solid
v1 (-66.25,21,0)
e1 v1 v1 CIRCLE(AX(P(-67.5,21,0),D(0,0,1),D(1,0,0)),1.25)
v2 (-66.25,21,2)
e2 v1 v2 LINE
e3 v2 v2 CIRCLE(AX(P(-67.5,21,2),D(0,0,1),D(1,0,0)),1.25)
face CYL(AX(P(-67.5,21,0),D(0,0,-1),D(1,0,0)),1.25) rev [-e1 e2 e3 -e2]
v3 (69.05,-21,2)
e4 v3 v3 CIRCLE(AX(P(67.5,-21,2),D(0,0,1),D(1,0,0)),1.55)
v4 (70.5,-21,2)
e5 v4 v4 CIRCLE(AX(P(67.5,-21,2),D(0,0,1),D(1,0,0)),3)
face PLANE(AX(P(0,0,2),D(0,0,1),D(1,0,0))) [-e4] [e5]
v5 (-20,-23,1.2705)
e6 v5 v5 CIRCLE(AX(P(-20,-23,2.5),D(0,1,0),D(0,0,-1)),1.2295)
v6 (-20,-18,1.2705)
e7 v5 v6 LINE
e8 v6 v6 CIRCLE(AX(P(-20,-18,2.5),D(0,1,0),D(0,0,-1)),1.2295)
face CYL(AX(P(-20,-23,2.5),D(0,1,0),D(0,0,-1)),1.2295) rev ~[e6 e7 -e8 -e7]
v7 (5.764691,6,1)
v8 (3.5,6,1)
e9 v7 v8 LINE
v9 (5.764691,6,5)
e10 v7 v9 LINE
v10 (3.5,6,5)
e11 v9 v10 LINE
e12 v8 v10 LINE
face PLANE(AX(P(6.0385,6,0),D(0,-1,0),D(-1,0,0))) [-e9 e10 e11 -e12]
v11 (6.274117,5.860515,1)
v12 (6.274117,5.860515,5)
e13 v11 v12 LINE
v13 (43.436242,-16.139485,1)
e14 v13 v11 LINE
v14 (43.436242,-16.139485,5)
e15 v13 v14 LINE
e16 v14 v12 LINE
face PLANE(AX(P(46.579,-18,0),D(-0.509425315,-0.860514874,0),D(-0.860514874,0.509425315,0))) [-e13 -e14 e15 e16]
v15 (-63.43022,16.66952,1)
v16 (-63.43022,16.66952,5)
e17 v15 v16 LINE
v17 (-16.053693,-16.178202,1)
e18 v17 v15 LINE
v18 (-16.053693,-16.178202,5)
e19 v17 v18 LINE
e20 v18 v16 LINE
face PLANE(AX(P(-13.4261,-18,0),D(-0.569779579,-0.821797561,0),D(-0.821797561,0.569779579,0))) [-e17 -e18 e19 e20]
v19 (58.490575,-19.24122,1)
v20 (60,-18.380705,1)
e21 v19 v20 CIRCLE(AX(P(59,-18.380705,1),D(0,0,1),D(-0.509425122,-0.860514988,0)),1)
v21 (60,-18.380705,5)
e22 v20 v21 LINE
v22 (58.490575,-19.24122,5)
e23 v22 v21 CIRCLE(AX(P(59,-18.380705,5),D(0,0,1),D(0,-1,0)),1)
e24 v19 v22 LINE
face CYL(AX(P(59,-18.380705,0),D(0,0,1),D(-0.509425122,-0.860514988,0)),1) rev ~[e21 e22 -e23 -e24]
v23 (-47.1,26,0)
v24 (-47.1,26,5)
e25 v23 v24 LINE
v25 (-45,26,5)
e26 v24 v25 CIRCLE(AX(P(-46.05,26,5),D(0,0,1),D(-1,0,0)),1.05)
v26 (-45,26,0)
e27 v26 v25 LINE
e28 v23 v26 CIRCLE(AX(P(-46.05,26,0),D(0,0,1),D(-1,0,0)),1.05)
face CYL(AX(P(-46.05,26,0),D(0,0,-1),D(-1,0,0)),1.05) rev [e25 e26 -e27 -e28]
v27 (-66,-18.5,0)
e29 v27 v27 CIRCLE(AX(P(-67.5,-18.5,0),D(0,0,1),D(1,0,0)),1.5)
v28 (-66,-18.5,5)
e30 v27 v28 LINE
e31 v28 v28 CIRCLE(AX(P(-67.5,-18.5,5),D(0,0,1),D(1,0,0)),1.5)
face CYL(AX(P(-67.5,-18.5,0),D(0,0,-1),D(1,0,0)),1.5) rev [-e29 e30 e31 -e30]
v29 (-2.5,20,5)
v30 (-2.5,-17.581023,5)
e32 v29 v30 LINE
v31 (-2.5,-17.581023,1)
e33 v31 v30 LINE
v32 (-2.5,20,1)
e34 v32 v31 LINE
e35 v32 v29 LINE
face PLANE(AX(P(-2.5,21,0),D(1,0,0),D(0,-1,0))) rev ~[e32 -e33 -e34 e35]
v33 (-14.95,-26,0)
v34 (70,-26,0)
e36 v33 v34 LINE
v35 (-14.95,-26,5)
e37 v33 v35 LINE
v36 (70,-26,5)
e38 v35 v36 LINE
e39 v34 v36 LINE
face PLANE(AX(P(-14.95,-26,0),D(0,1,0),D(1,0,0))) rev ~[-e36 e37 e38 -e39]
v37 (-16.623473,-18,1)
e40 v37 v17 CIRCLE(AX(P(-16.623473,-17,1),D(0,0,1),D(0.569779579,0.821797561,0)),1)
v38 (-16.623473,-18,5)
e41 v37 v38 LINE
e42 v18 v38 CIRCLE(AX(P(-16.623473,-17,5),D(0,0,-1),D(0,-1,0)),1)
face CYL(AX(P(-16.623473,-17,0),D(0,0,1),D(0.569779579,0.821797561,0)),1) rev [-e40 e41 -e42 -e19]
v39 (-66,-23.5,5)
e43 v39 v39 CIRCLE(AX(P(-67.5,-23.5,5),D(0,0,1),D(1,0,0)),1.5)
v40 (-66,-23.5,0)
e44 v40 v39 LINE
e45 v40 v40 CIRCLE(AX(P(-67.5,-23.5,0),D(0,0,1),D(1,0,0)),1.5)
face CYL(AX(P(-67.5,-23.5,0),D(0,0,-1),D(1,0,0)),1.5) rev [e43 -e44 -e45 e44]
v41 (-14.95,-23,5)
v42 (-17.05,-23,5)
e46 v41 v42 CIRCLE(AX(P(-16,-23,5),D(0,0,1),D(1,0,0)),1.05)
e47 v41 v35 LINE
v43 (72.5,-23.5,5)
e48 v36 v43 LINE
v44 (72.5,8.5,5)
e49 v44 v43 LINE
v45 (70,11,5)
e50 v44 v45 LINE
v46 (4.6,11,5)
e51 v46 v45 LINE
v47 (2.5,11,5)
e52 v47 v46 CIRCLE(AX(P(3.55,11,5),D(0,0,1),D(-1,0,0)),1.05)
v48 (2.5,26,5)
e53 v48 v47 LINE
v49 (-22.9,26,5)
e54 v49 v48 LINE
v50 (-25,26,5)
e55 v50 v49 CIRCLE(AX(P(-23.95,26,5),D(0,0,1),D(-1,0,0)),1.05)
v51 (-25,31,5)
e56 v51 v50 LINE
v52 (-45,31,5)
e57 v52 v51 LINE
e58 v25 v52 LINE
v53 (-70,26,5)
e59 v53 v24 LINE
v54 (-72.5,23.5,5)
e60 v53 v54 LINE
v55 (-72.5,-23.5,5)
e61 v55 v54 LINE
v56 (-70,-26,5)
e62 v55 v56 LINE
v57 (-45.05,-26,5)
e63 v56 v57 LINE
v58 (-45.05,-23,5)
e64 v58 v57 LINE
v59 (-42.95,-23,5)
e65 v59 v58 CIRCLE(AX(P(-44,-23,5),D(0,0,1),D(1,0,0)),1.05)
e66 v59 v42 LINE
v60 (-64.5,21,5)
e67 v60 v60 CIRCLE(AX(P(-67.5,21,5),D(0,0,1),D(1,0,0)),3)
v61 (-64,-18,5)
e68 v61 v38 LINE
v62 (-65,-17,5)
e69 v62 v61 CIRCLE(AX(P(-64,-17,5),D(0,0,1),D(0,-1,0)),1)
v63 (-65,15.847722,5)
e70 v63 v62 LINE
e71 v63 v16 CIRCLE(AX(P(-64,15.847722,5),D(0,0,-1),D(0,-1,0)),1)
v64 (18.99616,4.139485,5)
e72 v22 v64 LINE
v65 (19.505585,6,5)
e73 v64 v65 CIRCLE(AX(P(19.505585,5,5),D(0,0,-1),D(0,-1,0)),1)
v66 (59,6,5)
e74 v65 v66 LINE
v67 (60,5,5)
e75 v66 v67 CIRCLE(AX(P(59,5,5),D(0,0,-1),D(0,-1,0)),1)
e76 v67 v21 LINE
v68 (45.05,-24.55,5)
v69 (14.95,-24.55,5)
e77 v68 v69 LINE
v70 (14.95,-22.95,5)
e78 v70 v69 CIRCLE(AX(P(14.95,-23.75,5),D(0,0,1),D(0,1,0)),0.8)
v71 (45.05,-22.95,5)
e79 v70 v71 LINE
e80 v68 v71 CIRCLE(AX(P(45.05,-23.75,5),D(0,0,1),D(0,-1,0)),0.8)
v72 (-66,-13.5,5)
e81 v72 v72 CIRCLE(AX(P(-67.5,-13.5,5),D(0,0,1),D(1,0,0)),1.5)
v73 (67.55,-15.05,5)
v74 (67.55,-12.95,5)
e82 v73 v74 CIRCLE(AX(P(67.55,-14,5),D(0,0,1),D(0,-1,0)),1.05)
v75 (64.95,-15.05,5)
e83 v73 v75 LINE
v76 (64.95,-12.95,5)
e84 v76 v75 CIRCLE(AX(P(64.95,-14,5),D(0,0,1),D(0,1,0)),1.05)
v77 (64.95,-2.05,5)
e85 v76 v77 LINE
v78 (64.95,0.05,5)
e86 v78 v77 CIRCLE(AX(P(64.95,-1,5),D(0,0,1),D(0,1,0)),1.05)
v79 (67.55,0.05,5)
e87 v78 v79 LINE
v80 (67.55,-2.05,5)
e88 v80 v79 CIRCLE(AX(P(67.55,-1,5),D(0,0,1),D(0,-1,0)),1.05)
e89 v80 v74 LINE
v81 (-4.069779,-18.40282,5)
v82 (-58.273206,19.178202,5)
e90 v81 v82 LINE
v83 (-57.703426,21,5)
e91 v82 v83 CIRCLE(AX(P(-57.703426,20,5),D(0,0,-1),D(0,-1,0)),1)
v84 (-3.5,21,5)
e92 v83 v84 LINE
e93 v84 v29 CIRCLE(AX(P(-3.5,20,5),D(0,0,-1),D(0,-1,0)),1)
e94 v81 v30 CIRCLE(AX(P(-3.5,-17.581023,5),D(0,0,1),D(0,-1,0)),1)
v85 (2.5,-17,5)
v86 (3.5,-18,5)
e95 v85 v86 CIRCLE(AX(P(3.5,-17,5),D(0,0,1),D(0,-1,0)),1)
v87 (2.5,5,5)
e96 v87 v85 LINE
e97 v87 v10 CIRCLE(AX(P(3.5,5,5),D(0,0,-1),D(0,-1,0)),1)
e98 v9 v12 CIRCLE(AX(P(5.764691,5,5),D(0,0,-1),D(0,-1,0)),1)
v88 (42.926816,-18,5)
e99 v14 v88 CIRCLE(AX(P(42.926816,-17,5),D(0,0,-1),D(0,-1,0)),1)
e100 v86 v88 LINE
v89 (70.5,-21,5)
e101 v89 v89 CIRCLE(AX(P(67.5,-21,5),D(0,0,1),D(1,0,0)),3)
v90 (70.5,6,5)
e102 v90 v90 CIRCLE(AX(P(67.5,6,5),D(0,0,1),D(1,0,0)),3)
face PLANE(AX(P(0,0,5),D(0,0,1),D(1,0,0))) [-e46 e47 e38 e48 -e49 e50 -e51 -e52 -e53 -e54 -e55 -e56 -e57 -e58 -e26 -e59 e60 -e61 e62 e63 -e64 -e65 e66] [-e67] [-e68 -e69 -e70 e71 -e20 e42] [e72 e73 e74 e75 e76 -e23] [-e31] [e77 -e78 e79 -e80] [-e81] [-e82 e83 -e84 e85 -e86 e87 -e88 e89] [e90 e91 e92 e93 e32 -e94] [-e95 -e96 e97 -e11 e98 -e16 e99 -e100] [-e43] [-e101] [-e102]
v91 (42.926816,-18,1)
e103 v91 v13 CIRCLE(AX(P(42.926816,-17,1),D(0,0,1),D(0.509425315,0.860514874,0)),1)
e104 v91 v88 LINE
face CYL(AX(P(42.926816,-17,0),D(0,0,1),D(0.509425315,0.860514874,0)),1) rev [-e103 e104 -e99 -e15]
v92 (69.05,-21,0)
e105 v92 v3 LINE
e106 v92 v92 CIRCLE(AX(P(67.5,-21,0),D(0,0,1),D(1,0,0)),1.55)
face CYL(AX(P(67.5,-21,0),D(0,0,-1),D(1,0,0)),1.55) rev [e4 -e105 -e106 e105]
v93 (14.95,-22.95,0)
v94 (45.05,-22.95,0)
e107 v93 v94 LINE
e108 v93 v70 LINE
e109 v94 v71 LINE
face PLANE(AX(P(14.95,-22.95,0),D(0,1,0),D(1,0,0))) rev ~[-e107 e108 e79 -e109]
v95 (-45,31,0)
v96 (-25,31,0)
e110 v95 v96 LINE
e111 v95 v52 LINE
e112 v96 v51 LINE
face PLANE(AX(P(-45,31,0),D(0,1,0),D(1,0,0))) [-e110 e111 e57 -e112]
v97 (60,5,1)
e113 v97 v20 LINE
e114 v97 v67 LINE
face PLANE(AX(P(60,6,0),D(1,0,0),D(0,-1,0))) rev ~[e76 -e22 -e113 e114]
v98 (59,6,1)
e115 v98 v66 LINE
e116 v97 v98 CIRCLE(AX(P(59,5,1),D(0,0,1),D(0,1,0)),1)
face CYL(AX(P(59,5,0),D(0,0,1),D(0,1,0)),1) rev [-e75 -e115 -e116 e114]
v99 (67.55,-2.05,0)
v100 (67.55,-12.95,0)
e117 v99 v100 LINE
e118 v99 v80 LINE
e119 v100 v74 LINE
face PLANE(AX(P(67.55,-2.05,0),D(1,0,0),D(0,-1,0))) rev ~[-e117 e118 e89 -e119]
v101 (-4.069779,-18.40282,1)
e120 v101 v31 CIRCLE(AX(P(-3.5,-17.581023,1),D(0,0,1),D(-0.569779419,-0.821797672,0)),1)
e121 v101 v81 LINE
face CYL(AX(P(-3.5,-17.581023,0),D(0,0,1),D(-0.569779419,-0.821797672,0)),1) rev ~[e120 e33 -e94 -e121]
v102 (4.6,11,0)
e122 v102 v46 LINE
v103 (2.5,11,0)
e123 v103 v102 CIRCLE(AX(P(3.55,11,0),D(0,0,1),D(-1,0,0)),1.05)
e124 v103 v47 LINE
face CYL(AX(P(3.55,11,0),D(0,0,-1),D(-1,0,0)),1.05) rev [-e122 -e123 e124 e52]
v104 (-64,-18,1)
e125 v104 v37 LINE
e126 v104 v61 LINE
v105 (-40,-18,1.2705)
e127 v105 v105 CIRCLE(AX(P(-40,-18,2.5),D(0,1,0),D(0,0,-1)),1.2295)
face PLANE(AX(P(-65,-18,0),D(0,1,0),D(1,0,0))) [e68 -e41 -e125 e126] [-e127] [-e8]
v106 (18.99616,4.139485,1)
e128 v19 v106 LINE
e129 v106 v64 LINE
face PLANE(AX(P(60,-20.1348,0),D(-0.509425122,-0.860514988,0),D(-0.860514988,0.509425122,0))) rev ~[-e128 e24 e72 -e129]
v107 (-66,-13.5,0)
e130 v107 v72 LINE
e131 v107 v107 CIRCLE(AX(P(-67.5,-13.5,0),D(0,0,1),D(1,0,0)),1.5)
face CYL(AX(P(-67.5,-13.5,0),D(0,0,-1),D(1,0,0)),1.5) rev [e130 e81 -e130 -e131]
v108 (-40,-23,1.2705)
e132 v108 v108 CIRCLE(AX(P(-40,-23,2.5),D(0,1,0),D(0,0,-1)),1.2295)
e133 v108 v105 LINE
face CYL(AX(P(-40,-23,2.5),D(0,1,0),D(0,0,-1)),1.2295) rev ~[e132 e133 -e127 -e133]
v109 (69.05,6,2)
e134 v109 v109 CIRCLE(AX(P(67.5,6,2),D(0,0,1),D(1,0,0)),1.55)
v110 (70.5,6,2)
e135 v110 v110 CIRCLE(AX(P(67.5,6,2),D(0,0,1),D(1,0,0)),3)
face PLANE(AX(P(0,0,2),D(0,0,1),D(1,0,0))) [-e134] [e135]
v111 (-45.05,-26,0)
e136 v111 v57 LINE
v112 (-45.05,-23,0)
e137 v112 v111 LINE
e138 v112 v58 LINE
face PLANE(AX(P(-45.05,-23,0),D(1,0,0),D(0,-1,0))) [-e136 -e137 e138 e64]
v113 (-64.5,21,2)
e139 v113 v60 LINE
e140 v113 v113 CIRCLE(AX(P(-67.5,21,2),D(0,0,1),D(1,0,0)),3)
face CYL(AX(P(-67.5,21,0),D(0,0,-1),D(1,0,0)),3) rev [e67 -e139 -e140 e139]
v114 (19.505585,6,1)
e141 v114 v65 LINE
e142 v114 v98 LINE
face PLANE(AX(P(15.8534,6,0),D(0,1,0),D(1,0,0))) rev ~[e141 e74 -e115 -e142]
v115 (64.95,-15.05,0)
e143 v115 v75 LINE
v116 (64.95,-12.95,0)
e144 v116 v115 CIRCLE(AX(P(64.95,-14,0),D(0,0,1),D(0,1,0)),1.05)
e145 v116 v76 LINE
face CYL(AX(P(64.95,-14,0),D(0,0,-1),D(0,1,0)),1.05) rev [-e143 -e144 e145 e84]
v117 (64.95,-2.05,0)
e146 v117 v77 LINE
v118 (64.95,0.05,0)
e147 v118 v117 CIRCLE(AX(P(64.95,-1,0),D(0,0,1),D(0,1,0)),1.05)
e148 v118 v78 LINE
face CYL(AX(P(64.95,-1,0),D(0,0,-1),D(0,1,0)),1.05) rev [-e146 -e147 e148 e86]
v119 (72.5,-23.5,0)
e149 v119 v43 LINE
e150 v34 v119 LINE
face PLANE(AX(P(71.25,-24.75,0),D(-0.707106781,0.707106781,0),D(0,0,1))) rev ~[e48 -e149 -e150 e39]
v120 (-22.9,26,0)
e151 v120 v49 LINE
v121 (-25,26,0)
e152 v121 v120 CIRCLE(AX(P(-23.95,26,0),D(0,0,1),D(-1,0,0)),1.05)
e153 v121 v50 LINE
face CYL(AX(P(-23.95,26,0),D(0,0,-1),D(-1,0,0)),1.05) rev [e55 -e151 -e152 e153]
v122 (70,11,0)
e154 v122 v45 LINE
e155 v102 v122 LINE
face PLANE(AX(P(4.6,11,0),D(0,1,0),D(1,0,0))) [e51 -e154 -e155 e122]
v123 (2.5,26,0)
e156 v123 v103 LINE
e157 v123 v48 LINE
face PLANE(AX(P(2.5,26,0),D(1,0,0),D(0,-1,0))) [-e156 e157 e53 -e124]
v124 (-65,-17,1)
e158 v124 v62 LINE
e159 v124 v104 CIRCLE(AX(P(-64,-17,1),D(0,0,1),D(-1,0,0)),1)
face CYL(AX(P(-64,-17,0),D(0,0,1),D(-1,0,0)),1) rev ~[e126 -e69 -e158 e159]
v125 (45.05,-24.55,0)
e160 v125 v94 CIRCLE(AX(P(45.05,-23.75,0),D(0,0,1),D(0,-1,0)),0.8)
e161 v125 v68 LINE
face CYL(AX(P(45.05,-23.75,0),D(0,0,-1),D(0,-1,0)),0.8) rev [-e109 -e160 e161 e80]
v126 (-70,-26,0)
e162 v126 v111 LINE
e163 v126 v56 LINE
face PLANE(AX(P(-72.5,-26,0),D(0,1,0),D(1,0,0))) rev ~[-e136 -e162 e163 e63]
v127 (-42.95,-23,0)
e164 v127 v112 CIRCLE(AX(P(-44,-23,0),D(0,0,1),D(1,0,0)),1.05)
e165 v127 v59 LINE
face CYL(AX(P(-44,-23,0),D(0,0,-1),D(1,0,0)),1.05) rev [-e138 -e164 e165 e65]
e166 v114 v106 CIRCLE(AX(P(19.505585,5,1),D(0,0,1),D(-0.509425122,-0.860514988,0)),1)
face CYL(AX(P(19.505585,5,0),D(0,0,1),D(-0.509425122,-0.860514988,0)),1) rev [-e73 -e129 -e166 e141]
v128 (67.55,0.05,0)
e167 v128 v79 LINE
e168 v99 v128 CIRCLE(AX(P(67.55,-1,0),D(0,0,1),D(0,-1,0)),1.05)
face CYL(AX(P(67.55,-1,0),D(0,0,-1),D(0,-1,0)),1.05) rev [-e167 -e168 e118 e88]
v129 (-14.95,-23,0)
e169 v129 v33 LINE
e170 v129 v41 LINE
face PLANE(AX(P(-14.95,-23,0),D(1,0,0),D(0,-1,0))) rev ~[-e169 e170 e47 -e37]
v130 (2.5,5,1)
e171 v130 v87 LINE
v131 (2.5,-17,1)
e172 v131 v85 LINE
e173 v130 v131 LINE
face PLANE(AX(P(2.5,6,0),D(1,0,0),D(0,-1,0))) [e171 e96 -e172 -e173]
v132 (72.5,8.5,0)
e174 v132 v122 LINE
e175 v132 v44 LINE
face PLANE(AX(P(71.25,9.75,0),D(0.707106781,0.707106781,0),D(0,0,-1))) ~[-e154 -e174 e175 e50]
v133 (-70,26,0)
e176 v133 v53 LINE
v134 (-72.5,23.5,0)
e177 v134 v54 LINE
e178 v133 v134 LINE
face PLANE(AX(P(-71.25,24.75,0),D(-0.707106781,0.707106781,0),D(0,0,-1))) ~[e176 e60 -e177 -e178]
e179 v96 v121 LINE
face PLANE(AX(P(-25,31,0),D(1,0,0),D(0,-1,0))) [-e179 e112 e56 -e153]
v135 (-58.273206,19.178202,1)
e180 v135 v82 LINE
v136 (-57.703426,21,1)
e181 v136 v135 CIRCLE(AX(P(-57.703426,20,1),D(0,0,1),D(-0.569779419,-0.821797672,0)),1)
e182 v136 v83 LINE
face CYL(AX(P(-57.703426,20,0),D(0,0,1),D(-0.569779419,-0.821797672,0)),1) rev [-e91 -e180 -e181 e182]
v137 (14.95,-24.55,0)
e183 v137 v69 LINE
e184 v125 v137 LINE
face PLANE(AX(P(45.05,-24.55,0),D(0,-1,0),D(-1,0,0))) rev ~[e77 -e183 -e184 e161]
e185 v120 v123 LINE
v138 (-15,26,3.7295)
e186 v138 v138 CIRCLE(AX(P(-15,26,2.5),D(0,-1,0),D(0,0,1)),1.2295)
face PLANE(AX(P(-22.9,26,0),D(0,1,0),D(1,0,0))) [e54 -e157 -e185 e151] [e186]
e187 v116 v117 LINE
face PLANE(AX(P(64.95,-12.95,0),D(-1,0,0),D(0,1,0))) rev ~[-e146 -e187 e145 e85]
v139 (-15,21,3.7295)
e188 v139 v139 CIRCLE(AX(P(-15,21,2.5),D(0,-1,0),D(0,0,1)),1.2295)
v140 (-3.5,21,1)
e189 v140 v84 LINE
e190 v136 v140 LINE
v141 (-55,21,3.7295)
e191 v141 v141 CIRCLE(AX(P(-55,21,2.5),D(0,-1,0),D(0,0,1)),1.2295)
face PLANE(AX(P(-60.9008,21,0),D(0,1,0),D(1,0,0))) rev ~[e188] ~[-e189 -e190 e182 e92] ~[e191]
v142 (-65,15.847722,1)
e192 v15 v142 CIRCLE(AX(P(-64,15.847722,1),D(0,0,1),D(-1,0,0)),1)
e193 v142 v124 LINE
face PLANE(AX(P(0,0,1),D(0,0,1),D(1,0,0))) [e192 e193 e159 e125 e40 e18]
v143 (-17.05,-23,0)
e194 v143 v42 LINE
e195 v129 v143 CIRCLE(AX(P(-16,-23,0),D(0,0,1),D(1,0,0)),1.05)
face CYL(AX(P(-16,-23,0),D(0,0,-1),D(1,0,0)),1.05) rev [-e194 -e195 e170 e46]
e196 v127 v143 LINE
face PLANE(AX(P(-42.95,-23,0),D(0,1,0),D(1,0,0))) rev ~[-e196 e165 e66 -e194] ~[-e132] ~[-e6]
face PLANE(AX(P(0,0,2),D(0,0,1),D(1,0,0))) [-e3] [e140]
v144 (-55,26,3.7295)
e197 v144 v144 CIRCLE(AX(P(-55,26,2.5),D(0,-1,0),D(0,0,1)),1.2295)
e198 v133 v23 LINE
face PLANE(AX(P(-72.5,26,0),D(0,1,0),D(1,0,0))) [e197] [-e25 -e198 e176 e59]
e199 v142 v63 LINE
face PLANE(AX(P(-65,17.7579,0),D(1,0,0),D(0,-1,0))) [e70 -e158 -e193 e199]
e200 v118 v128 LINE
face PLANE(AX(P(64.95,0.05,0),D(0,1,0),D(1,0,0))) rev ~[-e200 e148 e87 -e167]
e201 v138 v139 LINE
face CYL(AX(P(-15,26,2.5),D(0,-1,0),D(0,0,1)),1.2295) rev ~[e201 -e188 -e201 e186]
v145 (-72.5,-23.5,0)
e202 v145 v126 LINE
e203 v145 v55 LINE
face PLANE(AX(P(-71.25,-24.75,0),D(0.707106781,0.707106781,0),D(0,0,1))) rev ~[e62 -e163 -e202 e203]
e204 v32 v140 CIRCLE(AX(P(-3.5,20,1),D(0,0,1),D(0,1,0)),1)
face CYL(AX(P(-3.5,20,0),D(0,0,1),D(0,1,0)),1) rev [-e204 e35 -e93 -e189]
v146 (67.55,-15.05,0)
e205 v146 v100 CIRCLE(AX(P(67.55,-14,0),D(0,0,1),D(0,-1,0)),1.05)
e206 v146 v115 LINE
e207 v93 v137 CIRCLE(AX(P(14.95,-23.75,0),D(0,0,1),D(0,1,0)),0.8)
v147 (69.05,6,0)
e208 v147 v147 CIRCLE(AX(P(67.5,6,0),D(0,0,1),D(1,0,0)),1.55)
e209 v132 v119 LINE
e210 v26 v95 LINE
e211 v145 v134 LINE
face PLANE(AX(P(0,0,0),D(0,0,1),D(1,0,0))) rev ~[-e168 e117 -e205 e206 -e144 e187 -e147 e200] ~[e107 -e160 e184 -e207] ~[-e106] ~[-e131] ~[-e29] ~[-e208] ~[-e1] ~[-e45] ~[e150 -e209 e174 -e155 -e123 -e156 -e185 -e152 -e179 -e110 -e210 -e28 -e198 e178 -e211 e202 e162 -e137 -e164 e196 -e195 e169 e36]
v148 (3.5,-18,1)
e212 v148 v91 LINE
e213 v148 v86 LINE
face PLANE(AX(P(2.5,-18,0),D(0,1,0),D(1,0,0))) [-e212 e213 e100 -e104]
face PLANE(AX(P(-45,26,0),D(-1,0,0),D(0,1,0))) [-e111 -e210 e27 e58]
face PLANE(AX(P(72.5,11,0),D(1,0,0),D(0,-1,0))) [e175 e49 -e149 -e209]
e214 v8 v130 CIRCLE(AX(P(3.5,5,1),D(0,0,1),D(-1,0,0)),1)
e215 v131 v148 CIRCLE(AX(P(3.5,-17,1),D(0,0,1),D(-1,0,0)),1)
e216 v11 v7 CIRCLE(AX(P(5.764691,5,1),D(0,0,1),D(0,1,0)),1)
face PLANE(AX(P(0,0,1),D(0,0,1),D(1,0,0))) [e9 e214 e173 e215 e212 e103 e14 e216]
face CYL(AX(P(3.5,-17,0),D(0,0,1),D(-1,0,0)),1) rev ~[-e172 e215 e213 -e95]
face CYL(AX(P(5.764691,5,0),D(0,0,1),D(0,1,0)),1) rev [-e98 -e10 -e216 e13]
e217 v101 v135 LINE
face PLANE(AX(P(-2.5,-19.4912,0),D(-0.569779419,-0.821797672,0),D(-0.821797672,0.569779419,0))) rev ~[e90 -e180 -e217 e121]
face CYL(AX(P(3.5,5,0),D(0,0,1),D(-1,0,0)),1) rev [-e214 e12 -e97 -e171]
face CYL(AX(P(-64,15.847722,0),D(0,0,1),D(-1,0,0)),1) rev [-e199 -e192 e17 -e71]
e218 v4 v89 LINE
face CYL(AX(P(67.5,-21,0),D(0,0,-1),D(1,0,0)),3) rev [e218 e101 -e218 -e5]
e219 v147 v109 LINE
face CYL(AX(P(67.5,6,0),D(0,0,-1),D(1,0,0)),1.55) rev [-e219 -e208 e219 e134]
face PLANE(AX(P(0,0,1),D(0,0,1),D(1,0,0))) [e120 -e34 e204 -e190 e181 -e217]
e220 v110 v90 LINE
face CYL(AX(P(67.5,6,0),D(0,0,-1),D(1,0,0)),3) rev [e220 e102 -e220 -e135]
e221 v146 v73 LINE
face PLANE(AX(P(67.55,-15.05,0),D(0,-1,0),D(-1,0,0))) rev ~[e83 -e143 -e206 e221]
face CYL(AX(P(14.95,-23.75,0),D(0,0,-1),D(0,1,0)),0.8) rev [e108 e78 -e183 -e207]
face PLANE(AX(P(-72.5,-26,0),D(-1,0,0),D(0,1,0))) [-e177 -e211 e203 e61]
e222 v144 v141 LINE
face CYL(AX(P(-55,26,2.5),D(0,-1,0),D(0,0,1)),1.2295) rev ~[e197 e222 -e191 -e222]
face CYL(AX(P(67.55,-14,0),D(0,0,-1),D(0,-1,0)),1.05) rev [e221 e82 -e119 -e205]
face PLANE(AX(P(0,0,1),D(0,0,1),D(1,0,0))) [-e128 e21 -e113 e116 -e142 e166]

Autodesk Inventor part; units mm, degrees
ref_plane "YZ Plane" through (0, 0, 0) normal (1, 0, 0) x (0, 1, 0)
ref_plane "XZ Plane" through (0, 0, 0) normal (0, 1, 0) x (-1, 0, 0)
ref_plane "XY Plane" through (0, 0, 0) normal (0, 0, 1) x (1, 0, 0)
sketch "スケッチ2" plane through (-42.95, -23, 0) normal (0, -1, 0) x (1, 0, 0)
  line L0 (0, 0) -> (25.9, 5) construction
  line L1 (0, 5) -> (25.9, 5) projected
  line L2 (12.95, 5) -> (12.95, 0) construction
  line L3 (0, 0) -> (25.9, 0) projected
  line L4 (0, 0) -> (0, 5) projected
  line L5 (0, 2.5) -> (25.9, 2.5) construction
  line L6 (25.9, 0) -> (25.9, 5) projected
  point P0 (42.95, 0)
  point P1 (2.95, 2.5)
  point P2 (22.95, 2.5)
  dimension "d176" = 20
sketch "スケッチ1" plane through (0, 0, 0) normal (0, 0, 1) x (1, 0, 0)
  line L0 (-72.5, 26) -> (-47.1, 26)
  line L1 (72.5, 26) -> (72.5, 11) construction
  line L2 (-72.5, -26) -> (-72.5, 26)
  line L3 (-72.5, 26) -> (72.5, -26) construction
  line L4 (72.5, 26) -> (-72.5, -26) construction
  line L5 (2.5, 26) -> (2.5, 11)
  line L6 (2.5, 11) -> (4.6, 11) construction
  line L7 (2.5, 26) -> (72.5, 26) construction
  line L8 (72.5, 11) -> (72.5, -26)
  line L9 (70, 11) -> (70, -26) construction
  circle A0 centre (67.5, 6) radius 1.55
  line L10 (-45, 26) -> (-45, 31)
  line L11 (-45, 31) -> (-25, 31)
  line L12 (-25, 31) -> (-25, 26)
  line L13 (-45, 26) -> (-25, 26) construction
  line L14 (-25, 26) -> (-22.9, 26) construction
  arc A1 (-47.1, 26) -> (-45, 26) centre (-46.05, 26) ccw
  arc A2 (-25, 26) -> (-22.9, 26) centre (-23.95, 26) ccw
  line L15 (-47.1, 26) -> (-45, 26) construction
  line L16 (-22.9, 26) -> (2.5, 26)
  line L17 (65, 11) -> (65, -26) construction
  line L18 (-45.05, -23) -> (-45.05, -26)
  line L19 (-14.95, -23) -> (-14.95, -26)
  line L20 (-45.05, -23) -> (-42.95, -23) construction
  arc A3 (-42.95, -23) -> (-45.05, -23) centre (-44, -23) ccw
  arc A4 (-14.95, -23) -> (-17.05, -23) centre (-16, -23) ccw
  line L21 (-42.95, -23) -> (-17.05, -23)
  line L22 (-17.05, -23) -> (-14.95, -23) construction
  line L23 (15, -23) -> (45, -23) construction
  line L24 (45, -23) -> (45, -24.5) construction
  line L25 (45, -24.5) -> (15, -24.5) construction
  line L26 (15, -24.5) -> (15, -23) construction
  line L27 (15, -23) -> (45, -24.5) construction
  line L28 (45, -23) -> (15, -24.5) construction
  line L29 (14.95, -22.95) -> (45.05, -22.95)
  line L30 (45.05, -22.95) -> (45.05, -24.55) construction
  line L31 (45.05, -24.55) -> (14.95, -24.55)
  line L32 (14.95, -24.55) -> (14.95, -22.95) construction
  line L33 (14.95, -22.95) -> (45.05, -24.55) construction
  line L34 (45.05, -22.95) -> (14.95, -24.55) construction
  line L35 (-45, -23) -> (-45, -26) construction
  line L36 (-15, -23) -> (-15, -26) construction
  line L37 (72.5, -7.5) -> (-72.5, -7.5) construction
  line L38 (67.5, 0) -> (65, 0) construction
  line L39 (65, 0) -> (65, -15) construction
  line L40 (65, -15) -> (67.5, -15) construction
  line L41 (67.5, -15) -> (67.5, 0) construction
  line L42 (67.5, 0) -> (65, -15) construction
  line L43 (65, 0) -> (67.5, -15) construction
  line L44 (64.95, 0.05) -> (67.55, 0.05)
  line L45 (67.55, 0.05) -> (67.55, -2.05) construction
  line L46 (67.55, -15.05) -> (64.95, -15.05)
  line L47 (64.95, -15.05) -> (64.95, -12.95) construction
  line L48 (64.95, 0.05) -> (67.55, -15.05) construction
  line L49 (67.55, 0.05) -> (64.95, -15.05) construction
  arc A5 (64.95, 0.05) -> (64.95, -2.05) centre (64.95, -1) ccw
  arc A6 (67.55, -2.05) -> (67.55, 0.05) centre (67.55, -1) ccw
  arc A7 (64.95, -12.95) -> (64.95, -15.05) centre (64.95, -14) ccw
  arc A8 (67.55, -15.05) -> (67.55, -12.95) centre (67.55, -14) ccw
  line L50 (64.95, -2.05) -> (64.95, 0.05) construction
  line L51 (64.95, -12.95) -> (64.95, -2.05)
  line L52 (67.55, -12.95) -> (67.55, -15.05) construction
  line L53 (67.55, -2.05) -> (67.55, -12.95)
  arc A9 (14.95, -22.95) -> (14.95, -24.55) centre (14.95, -23.75) ccw
  arc A10 (45.05, -24.55) -> (45.05, -22.95) centre (45.05, -23.75) ccw
  circle A11 centre (67.5, -21) radius 1.55
  line L54 (-72.5, -26) -> (-45, -26)
  line L55 (-15, -26) -> (72.5, -26)
  line L56 (-45, -26) -> (-15, -26) construction
  line L57 (-70, 26) -> (-70, -26) construction
  line L58 (-65, 26) -> (-65, -26) construction
  arc A12 (2.5, 11) -> (4.6, 11) centre (3.55, 11) ccw
  line L59 (4.6, 11) -> (72.5, 11)
  circle A13 centre (67.5, 6) radius 3
  circle A14 centre (67.5, -21) radius 3
  line L60 (2.5, 6) -> (2.5, -18)
  line L61 (2.5, -18) -> (46.579, -18)
  line L62 (46.579, -18) -> (6.0385, 6)
  line L63 (15.8534, 6) -> (60, 6)
  line L64 (60, 6) -> (60, -20.1348)
  line L65 (60, -20.1348) -> (15.8534, 6)
  line L66 (-65, 17.7579) -> (-65, -18)
  line L67 (-65, -18) -> (-13.4261, -18)
  line L68 (-13.4261, -18) -> (-65, 17.7579)
  line L69 (-60.9008, 21) -> (-2.5, 21)
  line L70 (-2.5, 21) -> (-2.5, -19.4912)
  line L71 (-2.5, -19.4912) -> (-60.9008, 21)
  line L72 (-72.5, 26) -> (2.5, -26) construction
  line L73 (2.5, 11) -> (2.5, -26) construction
  line L74 (6.0385, 6) -> (2.5, 6)
  line L75 (2.5, 11) -> (65, -26) construction
  circle A15 centre (-67.5, 21) radius 1.25
  circle A16 centre (-67.5, 21) radius 3
  circle A17 centre (-67.5, -23.5) radius 1.5
  circle A18 centre (-67.5, -18.5) radius 1.5
  circle A19 centre (-67.5, -13.5) radius 1.5
  line L76 (-67.5, 26) -> (-67.5, -26) construction
  point P0 (0, 0)
  point P1 (30, -23.75)
  point P2 (66.25, -7.5)
  dimension "d0" = 145
  dimension "d1" = 52
  dimension "d2" = 75
  dimension "d3" = 15
  dimension "d4" = 2.5
  dimension "d5" = 3.1
  dimension "d6" = 2.5
  dimension "d7" = 5
  dimension "d12" = 20
  dimension "d13" = 27.5
  dimension "d14" = 5
  dimension "d15" = 1.05
  dimension "d16" = 1.05
  dimension "d17" = 70
  dimension "d55" = 1.05
  dimension "d56" = 1.05
  dimension "d74" = 37
  dimension "d107" = 30
  dimension "d108" = 1.5
  dimension "d109" = 0.05
  dimension "d110" = 0.05
  dimension "d114" = 0.05
  dimension "d115" = 0.05
  dimension "d116" = 30
  dimension "d118" = 5
  dimension "d123" = 2.5
  dimension "d124" = 15
  dimension "d125" = 0.05
  dimension "d126" = 0.05
  dimension "d127" = 1.05
  dimension "d128" = 1.05
  dimension "d129" = 1.05
  dimension "d130" = 1.05
  dimension "d132" = 30
  dimension "d133" = 20
  dimension "d134" = 3
  dimension "d135" = 2.5
  dimension "d146" = 5
  dimension "d147" = 20
  dimension "d148" = 130
  dimension "d152" = 1.05
  dimension "d169" = 6
  dimension "d185" = 5
  dimension "d186" = 5
  dimension "d187" = 5
  dimension "d188" = 2.5
  dimension "d190" = 8
  dimension "d191" = 5
  dimension "d192" = 5
  dimension "d193" = 5
  dimension "d195" = 5
  dimension "d196" = 2.5
  dimension "d200" = 2.5
  dimension "d201" = 6
  dimension "d204" = 5
  dimension "d205" = 2.5
  dimension "d206" = 3
  dimension "d207" = 3
  dimension "d208" = 3
  dimension "d209" = 2.5
  dimension "d210" = 2.5
  dimension "d211" = 5
  dimension "d212" = 5
extrude "押し出し1" add sketch "スケッチ1" along normal blind 5 contours L0 A1 L10 L11 L12 A2 L16 L5 A12 L59 L8 L55 L19 A4 L21 A3 L18 L54 L2
extrude "押し出し2" add sketch "スケッチ1" along normal blind 2 contours A13 | A14 | A16
hole "穴1" at (-40, -23, 2.5) at (-20, -23, 2.5) direction (0, 1, 0) diameter 2.459 depth 5 thread size "M3x0.5" class "6H" standard "ISO Metric profile"
chamfer "面取り1" distance 2.5 angle 45 4 edges at (72.5, -26, 2.5) (72.5, 11, 2.5) (-72.5, 26, 2.5) (-72.5, -26, 2.5)
sketch "スケッチ3" plane through (-47.1, 26, 5) normal (0, 1, 0) x (1, 0, 0)
  line L0 (22.1, 0) -> (2.1, 0) projected
  line L1 (12.1, 0) -> (12.1, 5) construction
  line L2 (22.1, 5) -> (2.1, 5) projected
  line L3 (-22.9, 0) -> (-22.9, 5) projected
  line L4 (-22.9, 2.5) -> (49.6, 2.5) construction
  line L5 (49.6, 5) -> (49.6, 0) projected
  point P0 (47.1, 5)
  point P1 (-7.9, 2.5)
  point P2 (32.1, 2.5)
  dimension "d177" = 40
hole "穴2" at (-55, 26, 2.5) at (-15, 26, 2.5) direction (0, -1, 0) diameter 2.459 depth 5 thread size "M3x0.5" class "6H" standard "ISO Metric profile"
fillet "フィレット2" radius 1 13 edges at (-65, 17.7579, 2.5) (-60.9008, 21, 2.5) (-2.5, 21, 2.5) (-65, -18, 2.5) (-13.4261, -18, 2.5) (-2.5, -19.4912, 2.5) (2.5, -18, 2.5) (2.5, 6, 2.5) (6.0385, 6, 2.5) (15.8534, 6, 2.5) (60, 6, 2.5) (60, -20.1348, 2.5) (46.579, -18, 2.5)
extrude "押し出し4" add sketch "スケッチ1" along normal blind 1 contours L74 L62 L61 L60 | L63 L64 L65 | L68 L67 L66 | L69 L70 L71
equation "\"d13\" = -0.5 * d12 + 0.5 * d2"
equation "\"d16\" = d15"
equation "\"d55\" = d54"
equation "\"d56\" = d55"
equation "\"d53\" = d15"
equation "\"d54\" = d53"
properties part number "Cockpit_vertical_frame_03" material "アセタール樹脂、黒"
